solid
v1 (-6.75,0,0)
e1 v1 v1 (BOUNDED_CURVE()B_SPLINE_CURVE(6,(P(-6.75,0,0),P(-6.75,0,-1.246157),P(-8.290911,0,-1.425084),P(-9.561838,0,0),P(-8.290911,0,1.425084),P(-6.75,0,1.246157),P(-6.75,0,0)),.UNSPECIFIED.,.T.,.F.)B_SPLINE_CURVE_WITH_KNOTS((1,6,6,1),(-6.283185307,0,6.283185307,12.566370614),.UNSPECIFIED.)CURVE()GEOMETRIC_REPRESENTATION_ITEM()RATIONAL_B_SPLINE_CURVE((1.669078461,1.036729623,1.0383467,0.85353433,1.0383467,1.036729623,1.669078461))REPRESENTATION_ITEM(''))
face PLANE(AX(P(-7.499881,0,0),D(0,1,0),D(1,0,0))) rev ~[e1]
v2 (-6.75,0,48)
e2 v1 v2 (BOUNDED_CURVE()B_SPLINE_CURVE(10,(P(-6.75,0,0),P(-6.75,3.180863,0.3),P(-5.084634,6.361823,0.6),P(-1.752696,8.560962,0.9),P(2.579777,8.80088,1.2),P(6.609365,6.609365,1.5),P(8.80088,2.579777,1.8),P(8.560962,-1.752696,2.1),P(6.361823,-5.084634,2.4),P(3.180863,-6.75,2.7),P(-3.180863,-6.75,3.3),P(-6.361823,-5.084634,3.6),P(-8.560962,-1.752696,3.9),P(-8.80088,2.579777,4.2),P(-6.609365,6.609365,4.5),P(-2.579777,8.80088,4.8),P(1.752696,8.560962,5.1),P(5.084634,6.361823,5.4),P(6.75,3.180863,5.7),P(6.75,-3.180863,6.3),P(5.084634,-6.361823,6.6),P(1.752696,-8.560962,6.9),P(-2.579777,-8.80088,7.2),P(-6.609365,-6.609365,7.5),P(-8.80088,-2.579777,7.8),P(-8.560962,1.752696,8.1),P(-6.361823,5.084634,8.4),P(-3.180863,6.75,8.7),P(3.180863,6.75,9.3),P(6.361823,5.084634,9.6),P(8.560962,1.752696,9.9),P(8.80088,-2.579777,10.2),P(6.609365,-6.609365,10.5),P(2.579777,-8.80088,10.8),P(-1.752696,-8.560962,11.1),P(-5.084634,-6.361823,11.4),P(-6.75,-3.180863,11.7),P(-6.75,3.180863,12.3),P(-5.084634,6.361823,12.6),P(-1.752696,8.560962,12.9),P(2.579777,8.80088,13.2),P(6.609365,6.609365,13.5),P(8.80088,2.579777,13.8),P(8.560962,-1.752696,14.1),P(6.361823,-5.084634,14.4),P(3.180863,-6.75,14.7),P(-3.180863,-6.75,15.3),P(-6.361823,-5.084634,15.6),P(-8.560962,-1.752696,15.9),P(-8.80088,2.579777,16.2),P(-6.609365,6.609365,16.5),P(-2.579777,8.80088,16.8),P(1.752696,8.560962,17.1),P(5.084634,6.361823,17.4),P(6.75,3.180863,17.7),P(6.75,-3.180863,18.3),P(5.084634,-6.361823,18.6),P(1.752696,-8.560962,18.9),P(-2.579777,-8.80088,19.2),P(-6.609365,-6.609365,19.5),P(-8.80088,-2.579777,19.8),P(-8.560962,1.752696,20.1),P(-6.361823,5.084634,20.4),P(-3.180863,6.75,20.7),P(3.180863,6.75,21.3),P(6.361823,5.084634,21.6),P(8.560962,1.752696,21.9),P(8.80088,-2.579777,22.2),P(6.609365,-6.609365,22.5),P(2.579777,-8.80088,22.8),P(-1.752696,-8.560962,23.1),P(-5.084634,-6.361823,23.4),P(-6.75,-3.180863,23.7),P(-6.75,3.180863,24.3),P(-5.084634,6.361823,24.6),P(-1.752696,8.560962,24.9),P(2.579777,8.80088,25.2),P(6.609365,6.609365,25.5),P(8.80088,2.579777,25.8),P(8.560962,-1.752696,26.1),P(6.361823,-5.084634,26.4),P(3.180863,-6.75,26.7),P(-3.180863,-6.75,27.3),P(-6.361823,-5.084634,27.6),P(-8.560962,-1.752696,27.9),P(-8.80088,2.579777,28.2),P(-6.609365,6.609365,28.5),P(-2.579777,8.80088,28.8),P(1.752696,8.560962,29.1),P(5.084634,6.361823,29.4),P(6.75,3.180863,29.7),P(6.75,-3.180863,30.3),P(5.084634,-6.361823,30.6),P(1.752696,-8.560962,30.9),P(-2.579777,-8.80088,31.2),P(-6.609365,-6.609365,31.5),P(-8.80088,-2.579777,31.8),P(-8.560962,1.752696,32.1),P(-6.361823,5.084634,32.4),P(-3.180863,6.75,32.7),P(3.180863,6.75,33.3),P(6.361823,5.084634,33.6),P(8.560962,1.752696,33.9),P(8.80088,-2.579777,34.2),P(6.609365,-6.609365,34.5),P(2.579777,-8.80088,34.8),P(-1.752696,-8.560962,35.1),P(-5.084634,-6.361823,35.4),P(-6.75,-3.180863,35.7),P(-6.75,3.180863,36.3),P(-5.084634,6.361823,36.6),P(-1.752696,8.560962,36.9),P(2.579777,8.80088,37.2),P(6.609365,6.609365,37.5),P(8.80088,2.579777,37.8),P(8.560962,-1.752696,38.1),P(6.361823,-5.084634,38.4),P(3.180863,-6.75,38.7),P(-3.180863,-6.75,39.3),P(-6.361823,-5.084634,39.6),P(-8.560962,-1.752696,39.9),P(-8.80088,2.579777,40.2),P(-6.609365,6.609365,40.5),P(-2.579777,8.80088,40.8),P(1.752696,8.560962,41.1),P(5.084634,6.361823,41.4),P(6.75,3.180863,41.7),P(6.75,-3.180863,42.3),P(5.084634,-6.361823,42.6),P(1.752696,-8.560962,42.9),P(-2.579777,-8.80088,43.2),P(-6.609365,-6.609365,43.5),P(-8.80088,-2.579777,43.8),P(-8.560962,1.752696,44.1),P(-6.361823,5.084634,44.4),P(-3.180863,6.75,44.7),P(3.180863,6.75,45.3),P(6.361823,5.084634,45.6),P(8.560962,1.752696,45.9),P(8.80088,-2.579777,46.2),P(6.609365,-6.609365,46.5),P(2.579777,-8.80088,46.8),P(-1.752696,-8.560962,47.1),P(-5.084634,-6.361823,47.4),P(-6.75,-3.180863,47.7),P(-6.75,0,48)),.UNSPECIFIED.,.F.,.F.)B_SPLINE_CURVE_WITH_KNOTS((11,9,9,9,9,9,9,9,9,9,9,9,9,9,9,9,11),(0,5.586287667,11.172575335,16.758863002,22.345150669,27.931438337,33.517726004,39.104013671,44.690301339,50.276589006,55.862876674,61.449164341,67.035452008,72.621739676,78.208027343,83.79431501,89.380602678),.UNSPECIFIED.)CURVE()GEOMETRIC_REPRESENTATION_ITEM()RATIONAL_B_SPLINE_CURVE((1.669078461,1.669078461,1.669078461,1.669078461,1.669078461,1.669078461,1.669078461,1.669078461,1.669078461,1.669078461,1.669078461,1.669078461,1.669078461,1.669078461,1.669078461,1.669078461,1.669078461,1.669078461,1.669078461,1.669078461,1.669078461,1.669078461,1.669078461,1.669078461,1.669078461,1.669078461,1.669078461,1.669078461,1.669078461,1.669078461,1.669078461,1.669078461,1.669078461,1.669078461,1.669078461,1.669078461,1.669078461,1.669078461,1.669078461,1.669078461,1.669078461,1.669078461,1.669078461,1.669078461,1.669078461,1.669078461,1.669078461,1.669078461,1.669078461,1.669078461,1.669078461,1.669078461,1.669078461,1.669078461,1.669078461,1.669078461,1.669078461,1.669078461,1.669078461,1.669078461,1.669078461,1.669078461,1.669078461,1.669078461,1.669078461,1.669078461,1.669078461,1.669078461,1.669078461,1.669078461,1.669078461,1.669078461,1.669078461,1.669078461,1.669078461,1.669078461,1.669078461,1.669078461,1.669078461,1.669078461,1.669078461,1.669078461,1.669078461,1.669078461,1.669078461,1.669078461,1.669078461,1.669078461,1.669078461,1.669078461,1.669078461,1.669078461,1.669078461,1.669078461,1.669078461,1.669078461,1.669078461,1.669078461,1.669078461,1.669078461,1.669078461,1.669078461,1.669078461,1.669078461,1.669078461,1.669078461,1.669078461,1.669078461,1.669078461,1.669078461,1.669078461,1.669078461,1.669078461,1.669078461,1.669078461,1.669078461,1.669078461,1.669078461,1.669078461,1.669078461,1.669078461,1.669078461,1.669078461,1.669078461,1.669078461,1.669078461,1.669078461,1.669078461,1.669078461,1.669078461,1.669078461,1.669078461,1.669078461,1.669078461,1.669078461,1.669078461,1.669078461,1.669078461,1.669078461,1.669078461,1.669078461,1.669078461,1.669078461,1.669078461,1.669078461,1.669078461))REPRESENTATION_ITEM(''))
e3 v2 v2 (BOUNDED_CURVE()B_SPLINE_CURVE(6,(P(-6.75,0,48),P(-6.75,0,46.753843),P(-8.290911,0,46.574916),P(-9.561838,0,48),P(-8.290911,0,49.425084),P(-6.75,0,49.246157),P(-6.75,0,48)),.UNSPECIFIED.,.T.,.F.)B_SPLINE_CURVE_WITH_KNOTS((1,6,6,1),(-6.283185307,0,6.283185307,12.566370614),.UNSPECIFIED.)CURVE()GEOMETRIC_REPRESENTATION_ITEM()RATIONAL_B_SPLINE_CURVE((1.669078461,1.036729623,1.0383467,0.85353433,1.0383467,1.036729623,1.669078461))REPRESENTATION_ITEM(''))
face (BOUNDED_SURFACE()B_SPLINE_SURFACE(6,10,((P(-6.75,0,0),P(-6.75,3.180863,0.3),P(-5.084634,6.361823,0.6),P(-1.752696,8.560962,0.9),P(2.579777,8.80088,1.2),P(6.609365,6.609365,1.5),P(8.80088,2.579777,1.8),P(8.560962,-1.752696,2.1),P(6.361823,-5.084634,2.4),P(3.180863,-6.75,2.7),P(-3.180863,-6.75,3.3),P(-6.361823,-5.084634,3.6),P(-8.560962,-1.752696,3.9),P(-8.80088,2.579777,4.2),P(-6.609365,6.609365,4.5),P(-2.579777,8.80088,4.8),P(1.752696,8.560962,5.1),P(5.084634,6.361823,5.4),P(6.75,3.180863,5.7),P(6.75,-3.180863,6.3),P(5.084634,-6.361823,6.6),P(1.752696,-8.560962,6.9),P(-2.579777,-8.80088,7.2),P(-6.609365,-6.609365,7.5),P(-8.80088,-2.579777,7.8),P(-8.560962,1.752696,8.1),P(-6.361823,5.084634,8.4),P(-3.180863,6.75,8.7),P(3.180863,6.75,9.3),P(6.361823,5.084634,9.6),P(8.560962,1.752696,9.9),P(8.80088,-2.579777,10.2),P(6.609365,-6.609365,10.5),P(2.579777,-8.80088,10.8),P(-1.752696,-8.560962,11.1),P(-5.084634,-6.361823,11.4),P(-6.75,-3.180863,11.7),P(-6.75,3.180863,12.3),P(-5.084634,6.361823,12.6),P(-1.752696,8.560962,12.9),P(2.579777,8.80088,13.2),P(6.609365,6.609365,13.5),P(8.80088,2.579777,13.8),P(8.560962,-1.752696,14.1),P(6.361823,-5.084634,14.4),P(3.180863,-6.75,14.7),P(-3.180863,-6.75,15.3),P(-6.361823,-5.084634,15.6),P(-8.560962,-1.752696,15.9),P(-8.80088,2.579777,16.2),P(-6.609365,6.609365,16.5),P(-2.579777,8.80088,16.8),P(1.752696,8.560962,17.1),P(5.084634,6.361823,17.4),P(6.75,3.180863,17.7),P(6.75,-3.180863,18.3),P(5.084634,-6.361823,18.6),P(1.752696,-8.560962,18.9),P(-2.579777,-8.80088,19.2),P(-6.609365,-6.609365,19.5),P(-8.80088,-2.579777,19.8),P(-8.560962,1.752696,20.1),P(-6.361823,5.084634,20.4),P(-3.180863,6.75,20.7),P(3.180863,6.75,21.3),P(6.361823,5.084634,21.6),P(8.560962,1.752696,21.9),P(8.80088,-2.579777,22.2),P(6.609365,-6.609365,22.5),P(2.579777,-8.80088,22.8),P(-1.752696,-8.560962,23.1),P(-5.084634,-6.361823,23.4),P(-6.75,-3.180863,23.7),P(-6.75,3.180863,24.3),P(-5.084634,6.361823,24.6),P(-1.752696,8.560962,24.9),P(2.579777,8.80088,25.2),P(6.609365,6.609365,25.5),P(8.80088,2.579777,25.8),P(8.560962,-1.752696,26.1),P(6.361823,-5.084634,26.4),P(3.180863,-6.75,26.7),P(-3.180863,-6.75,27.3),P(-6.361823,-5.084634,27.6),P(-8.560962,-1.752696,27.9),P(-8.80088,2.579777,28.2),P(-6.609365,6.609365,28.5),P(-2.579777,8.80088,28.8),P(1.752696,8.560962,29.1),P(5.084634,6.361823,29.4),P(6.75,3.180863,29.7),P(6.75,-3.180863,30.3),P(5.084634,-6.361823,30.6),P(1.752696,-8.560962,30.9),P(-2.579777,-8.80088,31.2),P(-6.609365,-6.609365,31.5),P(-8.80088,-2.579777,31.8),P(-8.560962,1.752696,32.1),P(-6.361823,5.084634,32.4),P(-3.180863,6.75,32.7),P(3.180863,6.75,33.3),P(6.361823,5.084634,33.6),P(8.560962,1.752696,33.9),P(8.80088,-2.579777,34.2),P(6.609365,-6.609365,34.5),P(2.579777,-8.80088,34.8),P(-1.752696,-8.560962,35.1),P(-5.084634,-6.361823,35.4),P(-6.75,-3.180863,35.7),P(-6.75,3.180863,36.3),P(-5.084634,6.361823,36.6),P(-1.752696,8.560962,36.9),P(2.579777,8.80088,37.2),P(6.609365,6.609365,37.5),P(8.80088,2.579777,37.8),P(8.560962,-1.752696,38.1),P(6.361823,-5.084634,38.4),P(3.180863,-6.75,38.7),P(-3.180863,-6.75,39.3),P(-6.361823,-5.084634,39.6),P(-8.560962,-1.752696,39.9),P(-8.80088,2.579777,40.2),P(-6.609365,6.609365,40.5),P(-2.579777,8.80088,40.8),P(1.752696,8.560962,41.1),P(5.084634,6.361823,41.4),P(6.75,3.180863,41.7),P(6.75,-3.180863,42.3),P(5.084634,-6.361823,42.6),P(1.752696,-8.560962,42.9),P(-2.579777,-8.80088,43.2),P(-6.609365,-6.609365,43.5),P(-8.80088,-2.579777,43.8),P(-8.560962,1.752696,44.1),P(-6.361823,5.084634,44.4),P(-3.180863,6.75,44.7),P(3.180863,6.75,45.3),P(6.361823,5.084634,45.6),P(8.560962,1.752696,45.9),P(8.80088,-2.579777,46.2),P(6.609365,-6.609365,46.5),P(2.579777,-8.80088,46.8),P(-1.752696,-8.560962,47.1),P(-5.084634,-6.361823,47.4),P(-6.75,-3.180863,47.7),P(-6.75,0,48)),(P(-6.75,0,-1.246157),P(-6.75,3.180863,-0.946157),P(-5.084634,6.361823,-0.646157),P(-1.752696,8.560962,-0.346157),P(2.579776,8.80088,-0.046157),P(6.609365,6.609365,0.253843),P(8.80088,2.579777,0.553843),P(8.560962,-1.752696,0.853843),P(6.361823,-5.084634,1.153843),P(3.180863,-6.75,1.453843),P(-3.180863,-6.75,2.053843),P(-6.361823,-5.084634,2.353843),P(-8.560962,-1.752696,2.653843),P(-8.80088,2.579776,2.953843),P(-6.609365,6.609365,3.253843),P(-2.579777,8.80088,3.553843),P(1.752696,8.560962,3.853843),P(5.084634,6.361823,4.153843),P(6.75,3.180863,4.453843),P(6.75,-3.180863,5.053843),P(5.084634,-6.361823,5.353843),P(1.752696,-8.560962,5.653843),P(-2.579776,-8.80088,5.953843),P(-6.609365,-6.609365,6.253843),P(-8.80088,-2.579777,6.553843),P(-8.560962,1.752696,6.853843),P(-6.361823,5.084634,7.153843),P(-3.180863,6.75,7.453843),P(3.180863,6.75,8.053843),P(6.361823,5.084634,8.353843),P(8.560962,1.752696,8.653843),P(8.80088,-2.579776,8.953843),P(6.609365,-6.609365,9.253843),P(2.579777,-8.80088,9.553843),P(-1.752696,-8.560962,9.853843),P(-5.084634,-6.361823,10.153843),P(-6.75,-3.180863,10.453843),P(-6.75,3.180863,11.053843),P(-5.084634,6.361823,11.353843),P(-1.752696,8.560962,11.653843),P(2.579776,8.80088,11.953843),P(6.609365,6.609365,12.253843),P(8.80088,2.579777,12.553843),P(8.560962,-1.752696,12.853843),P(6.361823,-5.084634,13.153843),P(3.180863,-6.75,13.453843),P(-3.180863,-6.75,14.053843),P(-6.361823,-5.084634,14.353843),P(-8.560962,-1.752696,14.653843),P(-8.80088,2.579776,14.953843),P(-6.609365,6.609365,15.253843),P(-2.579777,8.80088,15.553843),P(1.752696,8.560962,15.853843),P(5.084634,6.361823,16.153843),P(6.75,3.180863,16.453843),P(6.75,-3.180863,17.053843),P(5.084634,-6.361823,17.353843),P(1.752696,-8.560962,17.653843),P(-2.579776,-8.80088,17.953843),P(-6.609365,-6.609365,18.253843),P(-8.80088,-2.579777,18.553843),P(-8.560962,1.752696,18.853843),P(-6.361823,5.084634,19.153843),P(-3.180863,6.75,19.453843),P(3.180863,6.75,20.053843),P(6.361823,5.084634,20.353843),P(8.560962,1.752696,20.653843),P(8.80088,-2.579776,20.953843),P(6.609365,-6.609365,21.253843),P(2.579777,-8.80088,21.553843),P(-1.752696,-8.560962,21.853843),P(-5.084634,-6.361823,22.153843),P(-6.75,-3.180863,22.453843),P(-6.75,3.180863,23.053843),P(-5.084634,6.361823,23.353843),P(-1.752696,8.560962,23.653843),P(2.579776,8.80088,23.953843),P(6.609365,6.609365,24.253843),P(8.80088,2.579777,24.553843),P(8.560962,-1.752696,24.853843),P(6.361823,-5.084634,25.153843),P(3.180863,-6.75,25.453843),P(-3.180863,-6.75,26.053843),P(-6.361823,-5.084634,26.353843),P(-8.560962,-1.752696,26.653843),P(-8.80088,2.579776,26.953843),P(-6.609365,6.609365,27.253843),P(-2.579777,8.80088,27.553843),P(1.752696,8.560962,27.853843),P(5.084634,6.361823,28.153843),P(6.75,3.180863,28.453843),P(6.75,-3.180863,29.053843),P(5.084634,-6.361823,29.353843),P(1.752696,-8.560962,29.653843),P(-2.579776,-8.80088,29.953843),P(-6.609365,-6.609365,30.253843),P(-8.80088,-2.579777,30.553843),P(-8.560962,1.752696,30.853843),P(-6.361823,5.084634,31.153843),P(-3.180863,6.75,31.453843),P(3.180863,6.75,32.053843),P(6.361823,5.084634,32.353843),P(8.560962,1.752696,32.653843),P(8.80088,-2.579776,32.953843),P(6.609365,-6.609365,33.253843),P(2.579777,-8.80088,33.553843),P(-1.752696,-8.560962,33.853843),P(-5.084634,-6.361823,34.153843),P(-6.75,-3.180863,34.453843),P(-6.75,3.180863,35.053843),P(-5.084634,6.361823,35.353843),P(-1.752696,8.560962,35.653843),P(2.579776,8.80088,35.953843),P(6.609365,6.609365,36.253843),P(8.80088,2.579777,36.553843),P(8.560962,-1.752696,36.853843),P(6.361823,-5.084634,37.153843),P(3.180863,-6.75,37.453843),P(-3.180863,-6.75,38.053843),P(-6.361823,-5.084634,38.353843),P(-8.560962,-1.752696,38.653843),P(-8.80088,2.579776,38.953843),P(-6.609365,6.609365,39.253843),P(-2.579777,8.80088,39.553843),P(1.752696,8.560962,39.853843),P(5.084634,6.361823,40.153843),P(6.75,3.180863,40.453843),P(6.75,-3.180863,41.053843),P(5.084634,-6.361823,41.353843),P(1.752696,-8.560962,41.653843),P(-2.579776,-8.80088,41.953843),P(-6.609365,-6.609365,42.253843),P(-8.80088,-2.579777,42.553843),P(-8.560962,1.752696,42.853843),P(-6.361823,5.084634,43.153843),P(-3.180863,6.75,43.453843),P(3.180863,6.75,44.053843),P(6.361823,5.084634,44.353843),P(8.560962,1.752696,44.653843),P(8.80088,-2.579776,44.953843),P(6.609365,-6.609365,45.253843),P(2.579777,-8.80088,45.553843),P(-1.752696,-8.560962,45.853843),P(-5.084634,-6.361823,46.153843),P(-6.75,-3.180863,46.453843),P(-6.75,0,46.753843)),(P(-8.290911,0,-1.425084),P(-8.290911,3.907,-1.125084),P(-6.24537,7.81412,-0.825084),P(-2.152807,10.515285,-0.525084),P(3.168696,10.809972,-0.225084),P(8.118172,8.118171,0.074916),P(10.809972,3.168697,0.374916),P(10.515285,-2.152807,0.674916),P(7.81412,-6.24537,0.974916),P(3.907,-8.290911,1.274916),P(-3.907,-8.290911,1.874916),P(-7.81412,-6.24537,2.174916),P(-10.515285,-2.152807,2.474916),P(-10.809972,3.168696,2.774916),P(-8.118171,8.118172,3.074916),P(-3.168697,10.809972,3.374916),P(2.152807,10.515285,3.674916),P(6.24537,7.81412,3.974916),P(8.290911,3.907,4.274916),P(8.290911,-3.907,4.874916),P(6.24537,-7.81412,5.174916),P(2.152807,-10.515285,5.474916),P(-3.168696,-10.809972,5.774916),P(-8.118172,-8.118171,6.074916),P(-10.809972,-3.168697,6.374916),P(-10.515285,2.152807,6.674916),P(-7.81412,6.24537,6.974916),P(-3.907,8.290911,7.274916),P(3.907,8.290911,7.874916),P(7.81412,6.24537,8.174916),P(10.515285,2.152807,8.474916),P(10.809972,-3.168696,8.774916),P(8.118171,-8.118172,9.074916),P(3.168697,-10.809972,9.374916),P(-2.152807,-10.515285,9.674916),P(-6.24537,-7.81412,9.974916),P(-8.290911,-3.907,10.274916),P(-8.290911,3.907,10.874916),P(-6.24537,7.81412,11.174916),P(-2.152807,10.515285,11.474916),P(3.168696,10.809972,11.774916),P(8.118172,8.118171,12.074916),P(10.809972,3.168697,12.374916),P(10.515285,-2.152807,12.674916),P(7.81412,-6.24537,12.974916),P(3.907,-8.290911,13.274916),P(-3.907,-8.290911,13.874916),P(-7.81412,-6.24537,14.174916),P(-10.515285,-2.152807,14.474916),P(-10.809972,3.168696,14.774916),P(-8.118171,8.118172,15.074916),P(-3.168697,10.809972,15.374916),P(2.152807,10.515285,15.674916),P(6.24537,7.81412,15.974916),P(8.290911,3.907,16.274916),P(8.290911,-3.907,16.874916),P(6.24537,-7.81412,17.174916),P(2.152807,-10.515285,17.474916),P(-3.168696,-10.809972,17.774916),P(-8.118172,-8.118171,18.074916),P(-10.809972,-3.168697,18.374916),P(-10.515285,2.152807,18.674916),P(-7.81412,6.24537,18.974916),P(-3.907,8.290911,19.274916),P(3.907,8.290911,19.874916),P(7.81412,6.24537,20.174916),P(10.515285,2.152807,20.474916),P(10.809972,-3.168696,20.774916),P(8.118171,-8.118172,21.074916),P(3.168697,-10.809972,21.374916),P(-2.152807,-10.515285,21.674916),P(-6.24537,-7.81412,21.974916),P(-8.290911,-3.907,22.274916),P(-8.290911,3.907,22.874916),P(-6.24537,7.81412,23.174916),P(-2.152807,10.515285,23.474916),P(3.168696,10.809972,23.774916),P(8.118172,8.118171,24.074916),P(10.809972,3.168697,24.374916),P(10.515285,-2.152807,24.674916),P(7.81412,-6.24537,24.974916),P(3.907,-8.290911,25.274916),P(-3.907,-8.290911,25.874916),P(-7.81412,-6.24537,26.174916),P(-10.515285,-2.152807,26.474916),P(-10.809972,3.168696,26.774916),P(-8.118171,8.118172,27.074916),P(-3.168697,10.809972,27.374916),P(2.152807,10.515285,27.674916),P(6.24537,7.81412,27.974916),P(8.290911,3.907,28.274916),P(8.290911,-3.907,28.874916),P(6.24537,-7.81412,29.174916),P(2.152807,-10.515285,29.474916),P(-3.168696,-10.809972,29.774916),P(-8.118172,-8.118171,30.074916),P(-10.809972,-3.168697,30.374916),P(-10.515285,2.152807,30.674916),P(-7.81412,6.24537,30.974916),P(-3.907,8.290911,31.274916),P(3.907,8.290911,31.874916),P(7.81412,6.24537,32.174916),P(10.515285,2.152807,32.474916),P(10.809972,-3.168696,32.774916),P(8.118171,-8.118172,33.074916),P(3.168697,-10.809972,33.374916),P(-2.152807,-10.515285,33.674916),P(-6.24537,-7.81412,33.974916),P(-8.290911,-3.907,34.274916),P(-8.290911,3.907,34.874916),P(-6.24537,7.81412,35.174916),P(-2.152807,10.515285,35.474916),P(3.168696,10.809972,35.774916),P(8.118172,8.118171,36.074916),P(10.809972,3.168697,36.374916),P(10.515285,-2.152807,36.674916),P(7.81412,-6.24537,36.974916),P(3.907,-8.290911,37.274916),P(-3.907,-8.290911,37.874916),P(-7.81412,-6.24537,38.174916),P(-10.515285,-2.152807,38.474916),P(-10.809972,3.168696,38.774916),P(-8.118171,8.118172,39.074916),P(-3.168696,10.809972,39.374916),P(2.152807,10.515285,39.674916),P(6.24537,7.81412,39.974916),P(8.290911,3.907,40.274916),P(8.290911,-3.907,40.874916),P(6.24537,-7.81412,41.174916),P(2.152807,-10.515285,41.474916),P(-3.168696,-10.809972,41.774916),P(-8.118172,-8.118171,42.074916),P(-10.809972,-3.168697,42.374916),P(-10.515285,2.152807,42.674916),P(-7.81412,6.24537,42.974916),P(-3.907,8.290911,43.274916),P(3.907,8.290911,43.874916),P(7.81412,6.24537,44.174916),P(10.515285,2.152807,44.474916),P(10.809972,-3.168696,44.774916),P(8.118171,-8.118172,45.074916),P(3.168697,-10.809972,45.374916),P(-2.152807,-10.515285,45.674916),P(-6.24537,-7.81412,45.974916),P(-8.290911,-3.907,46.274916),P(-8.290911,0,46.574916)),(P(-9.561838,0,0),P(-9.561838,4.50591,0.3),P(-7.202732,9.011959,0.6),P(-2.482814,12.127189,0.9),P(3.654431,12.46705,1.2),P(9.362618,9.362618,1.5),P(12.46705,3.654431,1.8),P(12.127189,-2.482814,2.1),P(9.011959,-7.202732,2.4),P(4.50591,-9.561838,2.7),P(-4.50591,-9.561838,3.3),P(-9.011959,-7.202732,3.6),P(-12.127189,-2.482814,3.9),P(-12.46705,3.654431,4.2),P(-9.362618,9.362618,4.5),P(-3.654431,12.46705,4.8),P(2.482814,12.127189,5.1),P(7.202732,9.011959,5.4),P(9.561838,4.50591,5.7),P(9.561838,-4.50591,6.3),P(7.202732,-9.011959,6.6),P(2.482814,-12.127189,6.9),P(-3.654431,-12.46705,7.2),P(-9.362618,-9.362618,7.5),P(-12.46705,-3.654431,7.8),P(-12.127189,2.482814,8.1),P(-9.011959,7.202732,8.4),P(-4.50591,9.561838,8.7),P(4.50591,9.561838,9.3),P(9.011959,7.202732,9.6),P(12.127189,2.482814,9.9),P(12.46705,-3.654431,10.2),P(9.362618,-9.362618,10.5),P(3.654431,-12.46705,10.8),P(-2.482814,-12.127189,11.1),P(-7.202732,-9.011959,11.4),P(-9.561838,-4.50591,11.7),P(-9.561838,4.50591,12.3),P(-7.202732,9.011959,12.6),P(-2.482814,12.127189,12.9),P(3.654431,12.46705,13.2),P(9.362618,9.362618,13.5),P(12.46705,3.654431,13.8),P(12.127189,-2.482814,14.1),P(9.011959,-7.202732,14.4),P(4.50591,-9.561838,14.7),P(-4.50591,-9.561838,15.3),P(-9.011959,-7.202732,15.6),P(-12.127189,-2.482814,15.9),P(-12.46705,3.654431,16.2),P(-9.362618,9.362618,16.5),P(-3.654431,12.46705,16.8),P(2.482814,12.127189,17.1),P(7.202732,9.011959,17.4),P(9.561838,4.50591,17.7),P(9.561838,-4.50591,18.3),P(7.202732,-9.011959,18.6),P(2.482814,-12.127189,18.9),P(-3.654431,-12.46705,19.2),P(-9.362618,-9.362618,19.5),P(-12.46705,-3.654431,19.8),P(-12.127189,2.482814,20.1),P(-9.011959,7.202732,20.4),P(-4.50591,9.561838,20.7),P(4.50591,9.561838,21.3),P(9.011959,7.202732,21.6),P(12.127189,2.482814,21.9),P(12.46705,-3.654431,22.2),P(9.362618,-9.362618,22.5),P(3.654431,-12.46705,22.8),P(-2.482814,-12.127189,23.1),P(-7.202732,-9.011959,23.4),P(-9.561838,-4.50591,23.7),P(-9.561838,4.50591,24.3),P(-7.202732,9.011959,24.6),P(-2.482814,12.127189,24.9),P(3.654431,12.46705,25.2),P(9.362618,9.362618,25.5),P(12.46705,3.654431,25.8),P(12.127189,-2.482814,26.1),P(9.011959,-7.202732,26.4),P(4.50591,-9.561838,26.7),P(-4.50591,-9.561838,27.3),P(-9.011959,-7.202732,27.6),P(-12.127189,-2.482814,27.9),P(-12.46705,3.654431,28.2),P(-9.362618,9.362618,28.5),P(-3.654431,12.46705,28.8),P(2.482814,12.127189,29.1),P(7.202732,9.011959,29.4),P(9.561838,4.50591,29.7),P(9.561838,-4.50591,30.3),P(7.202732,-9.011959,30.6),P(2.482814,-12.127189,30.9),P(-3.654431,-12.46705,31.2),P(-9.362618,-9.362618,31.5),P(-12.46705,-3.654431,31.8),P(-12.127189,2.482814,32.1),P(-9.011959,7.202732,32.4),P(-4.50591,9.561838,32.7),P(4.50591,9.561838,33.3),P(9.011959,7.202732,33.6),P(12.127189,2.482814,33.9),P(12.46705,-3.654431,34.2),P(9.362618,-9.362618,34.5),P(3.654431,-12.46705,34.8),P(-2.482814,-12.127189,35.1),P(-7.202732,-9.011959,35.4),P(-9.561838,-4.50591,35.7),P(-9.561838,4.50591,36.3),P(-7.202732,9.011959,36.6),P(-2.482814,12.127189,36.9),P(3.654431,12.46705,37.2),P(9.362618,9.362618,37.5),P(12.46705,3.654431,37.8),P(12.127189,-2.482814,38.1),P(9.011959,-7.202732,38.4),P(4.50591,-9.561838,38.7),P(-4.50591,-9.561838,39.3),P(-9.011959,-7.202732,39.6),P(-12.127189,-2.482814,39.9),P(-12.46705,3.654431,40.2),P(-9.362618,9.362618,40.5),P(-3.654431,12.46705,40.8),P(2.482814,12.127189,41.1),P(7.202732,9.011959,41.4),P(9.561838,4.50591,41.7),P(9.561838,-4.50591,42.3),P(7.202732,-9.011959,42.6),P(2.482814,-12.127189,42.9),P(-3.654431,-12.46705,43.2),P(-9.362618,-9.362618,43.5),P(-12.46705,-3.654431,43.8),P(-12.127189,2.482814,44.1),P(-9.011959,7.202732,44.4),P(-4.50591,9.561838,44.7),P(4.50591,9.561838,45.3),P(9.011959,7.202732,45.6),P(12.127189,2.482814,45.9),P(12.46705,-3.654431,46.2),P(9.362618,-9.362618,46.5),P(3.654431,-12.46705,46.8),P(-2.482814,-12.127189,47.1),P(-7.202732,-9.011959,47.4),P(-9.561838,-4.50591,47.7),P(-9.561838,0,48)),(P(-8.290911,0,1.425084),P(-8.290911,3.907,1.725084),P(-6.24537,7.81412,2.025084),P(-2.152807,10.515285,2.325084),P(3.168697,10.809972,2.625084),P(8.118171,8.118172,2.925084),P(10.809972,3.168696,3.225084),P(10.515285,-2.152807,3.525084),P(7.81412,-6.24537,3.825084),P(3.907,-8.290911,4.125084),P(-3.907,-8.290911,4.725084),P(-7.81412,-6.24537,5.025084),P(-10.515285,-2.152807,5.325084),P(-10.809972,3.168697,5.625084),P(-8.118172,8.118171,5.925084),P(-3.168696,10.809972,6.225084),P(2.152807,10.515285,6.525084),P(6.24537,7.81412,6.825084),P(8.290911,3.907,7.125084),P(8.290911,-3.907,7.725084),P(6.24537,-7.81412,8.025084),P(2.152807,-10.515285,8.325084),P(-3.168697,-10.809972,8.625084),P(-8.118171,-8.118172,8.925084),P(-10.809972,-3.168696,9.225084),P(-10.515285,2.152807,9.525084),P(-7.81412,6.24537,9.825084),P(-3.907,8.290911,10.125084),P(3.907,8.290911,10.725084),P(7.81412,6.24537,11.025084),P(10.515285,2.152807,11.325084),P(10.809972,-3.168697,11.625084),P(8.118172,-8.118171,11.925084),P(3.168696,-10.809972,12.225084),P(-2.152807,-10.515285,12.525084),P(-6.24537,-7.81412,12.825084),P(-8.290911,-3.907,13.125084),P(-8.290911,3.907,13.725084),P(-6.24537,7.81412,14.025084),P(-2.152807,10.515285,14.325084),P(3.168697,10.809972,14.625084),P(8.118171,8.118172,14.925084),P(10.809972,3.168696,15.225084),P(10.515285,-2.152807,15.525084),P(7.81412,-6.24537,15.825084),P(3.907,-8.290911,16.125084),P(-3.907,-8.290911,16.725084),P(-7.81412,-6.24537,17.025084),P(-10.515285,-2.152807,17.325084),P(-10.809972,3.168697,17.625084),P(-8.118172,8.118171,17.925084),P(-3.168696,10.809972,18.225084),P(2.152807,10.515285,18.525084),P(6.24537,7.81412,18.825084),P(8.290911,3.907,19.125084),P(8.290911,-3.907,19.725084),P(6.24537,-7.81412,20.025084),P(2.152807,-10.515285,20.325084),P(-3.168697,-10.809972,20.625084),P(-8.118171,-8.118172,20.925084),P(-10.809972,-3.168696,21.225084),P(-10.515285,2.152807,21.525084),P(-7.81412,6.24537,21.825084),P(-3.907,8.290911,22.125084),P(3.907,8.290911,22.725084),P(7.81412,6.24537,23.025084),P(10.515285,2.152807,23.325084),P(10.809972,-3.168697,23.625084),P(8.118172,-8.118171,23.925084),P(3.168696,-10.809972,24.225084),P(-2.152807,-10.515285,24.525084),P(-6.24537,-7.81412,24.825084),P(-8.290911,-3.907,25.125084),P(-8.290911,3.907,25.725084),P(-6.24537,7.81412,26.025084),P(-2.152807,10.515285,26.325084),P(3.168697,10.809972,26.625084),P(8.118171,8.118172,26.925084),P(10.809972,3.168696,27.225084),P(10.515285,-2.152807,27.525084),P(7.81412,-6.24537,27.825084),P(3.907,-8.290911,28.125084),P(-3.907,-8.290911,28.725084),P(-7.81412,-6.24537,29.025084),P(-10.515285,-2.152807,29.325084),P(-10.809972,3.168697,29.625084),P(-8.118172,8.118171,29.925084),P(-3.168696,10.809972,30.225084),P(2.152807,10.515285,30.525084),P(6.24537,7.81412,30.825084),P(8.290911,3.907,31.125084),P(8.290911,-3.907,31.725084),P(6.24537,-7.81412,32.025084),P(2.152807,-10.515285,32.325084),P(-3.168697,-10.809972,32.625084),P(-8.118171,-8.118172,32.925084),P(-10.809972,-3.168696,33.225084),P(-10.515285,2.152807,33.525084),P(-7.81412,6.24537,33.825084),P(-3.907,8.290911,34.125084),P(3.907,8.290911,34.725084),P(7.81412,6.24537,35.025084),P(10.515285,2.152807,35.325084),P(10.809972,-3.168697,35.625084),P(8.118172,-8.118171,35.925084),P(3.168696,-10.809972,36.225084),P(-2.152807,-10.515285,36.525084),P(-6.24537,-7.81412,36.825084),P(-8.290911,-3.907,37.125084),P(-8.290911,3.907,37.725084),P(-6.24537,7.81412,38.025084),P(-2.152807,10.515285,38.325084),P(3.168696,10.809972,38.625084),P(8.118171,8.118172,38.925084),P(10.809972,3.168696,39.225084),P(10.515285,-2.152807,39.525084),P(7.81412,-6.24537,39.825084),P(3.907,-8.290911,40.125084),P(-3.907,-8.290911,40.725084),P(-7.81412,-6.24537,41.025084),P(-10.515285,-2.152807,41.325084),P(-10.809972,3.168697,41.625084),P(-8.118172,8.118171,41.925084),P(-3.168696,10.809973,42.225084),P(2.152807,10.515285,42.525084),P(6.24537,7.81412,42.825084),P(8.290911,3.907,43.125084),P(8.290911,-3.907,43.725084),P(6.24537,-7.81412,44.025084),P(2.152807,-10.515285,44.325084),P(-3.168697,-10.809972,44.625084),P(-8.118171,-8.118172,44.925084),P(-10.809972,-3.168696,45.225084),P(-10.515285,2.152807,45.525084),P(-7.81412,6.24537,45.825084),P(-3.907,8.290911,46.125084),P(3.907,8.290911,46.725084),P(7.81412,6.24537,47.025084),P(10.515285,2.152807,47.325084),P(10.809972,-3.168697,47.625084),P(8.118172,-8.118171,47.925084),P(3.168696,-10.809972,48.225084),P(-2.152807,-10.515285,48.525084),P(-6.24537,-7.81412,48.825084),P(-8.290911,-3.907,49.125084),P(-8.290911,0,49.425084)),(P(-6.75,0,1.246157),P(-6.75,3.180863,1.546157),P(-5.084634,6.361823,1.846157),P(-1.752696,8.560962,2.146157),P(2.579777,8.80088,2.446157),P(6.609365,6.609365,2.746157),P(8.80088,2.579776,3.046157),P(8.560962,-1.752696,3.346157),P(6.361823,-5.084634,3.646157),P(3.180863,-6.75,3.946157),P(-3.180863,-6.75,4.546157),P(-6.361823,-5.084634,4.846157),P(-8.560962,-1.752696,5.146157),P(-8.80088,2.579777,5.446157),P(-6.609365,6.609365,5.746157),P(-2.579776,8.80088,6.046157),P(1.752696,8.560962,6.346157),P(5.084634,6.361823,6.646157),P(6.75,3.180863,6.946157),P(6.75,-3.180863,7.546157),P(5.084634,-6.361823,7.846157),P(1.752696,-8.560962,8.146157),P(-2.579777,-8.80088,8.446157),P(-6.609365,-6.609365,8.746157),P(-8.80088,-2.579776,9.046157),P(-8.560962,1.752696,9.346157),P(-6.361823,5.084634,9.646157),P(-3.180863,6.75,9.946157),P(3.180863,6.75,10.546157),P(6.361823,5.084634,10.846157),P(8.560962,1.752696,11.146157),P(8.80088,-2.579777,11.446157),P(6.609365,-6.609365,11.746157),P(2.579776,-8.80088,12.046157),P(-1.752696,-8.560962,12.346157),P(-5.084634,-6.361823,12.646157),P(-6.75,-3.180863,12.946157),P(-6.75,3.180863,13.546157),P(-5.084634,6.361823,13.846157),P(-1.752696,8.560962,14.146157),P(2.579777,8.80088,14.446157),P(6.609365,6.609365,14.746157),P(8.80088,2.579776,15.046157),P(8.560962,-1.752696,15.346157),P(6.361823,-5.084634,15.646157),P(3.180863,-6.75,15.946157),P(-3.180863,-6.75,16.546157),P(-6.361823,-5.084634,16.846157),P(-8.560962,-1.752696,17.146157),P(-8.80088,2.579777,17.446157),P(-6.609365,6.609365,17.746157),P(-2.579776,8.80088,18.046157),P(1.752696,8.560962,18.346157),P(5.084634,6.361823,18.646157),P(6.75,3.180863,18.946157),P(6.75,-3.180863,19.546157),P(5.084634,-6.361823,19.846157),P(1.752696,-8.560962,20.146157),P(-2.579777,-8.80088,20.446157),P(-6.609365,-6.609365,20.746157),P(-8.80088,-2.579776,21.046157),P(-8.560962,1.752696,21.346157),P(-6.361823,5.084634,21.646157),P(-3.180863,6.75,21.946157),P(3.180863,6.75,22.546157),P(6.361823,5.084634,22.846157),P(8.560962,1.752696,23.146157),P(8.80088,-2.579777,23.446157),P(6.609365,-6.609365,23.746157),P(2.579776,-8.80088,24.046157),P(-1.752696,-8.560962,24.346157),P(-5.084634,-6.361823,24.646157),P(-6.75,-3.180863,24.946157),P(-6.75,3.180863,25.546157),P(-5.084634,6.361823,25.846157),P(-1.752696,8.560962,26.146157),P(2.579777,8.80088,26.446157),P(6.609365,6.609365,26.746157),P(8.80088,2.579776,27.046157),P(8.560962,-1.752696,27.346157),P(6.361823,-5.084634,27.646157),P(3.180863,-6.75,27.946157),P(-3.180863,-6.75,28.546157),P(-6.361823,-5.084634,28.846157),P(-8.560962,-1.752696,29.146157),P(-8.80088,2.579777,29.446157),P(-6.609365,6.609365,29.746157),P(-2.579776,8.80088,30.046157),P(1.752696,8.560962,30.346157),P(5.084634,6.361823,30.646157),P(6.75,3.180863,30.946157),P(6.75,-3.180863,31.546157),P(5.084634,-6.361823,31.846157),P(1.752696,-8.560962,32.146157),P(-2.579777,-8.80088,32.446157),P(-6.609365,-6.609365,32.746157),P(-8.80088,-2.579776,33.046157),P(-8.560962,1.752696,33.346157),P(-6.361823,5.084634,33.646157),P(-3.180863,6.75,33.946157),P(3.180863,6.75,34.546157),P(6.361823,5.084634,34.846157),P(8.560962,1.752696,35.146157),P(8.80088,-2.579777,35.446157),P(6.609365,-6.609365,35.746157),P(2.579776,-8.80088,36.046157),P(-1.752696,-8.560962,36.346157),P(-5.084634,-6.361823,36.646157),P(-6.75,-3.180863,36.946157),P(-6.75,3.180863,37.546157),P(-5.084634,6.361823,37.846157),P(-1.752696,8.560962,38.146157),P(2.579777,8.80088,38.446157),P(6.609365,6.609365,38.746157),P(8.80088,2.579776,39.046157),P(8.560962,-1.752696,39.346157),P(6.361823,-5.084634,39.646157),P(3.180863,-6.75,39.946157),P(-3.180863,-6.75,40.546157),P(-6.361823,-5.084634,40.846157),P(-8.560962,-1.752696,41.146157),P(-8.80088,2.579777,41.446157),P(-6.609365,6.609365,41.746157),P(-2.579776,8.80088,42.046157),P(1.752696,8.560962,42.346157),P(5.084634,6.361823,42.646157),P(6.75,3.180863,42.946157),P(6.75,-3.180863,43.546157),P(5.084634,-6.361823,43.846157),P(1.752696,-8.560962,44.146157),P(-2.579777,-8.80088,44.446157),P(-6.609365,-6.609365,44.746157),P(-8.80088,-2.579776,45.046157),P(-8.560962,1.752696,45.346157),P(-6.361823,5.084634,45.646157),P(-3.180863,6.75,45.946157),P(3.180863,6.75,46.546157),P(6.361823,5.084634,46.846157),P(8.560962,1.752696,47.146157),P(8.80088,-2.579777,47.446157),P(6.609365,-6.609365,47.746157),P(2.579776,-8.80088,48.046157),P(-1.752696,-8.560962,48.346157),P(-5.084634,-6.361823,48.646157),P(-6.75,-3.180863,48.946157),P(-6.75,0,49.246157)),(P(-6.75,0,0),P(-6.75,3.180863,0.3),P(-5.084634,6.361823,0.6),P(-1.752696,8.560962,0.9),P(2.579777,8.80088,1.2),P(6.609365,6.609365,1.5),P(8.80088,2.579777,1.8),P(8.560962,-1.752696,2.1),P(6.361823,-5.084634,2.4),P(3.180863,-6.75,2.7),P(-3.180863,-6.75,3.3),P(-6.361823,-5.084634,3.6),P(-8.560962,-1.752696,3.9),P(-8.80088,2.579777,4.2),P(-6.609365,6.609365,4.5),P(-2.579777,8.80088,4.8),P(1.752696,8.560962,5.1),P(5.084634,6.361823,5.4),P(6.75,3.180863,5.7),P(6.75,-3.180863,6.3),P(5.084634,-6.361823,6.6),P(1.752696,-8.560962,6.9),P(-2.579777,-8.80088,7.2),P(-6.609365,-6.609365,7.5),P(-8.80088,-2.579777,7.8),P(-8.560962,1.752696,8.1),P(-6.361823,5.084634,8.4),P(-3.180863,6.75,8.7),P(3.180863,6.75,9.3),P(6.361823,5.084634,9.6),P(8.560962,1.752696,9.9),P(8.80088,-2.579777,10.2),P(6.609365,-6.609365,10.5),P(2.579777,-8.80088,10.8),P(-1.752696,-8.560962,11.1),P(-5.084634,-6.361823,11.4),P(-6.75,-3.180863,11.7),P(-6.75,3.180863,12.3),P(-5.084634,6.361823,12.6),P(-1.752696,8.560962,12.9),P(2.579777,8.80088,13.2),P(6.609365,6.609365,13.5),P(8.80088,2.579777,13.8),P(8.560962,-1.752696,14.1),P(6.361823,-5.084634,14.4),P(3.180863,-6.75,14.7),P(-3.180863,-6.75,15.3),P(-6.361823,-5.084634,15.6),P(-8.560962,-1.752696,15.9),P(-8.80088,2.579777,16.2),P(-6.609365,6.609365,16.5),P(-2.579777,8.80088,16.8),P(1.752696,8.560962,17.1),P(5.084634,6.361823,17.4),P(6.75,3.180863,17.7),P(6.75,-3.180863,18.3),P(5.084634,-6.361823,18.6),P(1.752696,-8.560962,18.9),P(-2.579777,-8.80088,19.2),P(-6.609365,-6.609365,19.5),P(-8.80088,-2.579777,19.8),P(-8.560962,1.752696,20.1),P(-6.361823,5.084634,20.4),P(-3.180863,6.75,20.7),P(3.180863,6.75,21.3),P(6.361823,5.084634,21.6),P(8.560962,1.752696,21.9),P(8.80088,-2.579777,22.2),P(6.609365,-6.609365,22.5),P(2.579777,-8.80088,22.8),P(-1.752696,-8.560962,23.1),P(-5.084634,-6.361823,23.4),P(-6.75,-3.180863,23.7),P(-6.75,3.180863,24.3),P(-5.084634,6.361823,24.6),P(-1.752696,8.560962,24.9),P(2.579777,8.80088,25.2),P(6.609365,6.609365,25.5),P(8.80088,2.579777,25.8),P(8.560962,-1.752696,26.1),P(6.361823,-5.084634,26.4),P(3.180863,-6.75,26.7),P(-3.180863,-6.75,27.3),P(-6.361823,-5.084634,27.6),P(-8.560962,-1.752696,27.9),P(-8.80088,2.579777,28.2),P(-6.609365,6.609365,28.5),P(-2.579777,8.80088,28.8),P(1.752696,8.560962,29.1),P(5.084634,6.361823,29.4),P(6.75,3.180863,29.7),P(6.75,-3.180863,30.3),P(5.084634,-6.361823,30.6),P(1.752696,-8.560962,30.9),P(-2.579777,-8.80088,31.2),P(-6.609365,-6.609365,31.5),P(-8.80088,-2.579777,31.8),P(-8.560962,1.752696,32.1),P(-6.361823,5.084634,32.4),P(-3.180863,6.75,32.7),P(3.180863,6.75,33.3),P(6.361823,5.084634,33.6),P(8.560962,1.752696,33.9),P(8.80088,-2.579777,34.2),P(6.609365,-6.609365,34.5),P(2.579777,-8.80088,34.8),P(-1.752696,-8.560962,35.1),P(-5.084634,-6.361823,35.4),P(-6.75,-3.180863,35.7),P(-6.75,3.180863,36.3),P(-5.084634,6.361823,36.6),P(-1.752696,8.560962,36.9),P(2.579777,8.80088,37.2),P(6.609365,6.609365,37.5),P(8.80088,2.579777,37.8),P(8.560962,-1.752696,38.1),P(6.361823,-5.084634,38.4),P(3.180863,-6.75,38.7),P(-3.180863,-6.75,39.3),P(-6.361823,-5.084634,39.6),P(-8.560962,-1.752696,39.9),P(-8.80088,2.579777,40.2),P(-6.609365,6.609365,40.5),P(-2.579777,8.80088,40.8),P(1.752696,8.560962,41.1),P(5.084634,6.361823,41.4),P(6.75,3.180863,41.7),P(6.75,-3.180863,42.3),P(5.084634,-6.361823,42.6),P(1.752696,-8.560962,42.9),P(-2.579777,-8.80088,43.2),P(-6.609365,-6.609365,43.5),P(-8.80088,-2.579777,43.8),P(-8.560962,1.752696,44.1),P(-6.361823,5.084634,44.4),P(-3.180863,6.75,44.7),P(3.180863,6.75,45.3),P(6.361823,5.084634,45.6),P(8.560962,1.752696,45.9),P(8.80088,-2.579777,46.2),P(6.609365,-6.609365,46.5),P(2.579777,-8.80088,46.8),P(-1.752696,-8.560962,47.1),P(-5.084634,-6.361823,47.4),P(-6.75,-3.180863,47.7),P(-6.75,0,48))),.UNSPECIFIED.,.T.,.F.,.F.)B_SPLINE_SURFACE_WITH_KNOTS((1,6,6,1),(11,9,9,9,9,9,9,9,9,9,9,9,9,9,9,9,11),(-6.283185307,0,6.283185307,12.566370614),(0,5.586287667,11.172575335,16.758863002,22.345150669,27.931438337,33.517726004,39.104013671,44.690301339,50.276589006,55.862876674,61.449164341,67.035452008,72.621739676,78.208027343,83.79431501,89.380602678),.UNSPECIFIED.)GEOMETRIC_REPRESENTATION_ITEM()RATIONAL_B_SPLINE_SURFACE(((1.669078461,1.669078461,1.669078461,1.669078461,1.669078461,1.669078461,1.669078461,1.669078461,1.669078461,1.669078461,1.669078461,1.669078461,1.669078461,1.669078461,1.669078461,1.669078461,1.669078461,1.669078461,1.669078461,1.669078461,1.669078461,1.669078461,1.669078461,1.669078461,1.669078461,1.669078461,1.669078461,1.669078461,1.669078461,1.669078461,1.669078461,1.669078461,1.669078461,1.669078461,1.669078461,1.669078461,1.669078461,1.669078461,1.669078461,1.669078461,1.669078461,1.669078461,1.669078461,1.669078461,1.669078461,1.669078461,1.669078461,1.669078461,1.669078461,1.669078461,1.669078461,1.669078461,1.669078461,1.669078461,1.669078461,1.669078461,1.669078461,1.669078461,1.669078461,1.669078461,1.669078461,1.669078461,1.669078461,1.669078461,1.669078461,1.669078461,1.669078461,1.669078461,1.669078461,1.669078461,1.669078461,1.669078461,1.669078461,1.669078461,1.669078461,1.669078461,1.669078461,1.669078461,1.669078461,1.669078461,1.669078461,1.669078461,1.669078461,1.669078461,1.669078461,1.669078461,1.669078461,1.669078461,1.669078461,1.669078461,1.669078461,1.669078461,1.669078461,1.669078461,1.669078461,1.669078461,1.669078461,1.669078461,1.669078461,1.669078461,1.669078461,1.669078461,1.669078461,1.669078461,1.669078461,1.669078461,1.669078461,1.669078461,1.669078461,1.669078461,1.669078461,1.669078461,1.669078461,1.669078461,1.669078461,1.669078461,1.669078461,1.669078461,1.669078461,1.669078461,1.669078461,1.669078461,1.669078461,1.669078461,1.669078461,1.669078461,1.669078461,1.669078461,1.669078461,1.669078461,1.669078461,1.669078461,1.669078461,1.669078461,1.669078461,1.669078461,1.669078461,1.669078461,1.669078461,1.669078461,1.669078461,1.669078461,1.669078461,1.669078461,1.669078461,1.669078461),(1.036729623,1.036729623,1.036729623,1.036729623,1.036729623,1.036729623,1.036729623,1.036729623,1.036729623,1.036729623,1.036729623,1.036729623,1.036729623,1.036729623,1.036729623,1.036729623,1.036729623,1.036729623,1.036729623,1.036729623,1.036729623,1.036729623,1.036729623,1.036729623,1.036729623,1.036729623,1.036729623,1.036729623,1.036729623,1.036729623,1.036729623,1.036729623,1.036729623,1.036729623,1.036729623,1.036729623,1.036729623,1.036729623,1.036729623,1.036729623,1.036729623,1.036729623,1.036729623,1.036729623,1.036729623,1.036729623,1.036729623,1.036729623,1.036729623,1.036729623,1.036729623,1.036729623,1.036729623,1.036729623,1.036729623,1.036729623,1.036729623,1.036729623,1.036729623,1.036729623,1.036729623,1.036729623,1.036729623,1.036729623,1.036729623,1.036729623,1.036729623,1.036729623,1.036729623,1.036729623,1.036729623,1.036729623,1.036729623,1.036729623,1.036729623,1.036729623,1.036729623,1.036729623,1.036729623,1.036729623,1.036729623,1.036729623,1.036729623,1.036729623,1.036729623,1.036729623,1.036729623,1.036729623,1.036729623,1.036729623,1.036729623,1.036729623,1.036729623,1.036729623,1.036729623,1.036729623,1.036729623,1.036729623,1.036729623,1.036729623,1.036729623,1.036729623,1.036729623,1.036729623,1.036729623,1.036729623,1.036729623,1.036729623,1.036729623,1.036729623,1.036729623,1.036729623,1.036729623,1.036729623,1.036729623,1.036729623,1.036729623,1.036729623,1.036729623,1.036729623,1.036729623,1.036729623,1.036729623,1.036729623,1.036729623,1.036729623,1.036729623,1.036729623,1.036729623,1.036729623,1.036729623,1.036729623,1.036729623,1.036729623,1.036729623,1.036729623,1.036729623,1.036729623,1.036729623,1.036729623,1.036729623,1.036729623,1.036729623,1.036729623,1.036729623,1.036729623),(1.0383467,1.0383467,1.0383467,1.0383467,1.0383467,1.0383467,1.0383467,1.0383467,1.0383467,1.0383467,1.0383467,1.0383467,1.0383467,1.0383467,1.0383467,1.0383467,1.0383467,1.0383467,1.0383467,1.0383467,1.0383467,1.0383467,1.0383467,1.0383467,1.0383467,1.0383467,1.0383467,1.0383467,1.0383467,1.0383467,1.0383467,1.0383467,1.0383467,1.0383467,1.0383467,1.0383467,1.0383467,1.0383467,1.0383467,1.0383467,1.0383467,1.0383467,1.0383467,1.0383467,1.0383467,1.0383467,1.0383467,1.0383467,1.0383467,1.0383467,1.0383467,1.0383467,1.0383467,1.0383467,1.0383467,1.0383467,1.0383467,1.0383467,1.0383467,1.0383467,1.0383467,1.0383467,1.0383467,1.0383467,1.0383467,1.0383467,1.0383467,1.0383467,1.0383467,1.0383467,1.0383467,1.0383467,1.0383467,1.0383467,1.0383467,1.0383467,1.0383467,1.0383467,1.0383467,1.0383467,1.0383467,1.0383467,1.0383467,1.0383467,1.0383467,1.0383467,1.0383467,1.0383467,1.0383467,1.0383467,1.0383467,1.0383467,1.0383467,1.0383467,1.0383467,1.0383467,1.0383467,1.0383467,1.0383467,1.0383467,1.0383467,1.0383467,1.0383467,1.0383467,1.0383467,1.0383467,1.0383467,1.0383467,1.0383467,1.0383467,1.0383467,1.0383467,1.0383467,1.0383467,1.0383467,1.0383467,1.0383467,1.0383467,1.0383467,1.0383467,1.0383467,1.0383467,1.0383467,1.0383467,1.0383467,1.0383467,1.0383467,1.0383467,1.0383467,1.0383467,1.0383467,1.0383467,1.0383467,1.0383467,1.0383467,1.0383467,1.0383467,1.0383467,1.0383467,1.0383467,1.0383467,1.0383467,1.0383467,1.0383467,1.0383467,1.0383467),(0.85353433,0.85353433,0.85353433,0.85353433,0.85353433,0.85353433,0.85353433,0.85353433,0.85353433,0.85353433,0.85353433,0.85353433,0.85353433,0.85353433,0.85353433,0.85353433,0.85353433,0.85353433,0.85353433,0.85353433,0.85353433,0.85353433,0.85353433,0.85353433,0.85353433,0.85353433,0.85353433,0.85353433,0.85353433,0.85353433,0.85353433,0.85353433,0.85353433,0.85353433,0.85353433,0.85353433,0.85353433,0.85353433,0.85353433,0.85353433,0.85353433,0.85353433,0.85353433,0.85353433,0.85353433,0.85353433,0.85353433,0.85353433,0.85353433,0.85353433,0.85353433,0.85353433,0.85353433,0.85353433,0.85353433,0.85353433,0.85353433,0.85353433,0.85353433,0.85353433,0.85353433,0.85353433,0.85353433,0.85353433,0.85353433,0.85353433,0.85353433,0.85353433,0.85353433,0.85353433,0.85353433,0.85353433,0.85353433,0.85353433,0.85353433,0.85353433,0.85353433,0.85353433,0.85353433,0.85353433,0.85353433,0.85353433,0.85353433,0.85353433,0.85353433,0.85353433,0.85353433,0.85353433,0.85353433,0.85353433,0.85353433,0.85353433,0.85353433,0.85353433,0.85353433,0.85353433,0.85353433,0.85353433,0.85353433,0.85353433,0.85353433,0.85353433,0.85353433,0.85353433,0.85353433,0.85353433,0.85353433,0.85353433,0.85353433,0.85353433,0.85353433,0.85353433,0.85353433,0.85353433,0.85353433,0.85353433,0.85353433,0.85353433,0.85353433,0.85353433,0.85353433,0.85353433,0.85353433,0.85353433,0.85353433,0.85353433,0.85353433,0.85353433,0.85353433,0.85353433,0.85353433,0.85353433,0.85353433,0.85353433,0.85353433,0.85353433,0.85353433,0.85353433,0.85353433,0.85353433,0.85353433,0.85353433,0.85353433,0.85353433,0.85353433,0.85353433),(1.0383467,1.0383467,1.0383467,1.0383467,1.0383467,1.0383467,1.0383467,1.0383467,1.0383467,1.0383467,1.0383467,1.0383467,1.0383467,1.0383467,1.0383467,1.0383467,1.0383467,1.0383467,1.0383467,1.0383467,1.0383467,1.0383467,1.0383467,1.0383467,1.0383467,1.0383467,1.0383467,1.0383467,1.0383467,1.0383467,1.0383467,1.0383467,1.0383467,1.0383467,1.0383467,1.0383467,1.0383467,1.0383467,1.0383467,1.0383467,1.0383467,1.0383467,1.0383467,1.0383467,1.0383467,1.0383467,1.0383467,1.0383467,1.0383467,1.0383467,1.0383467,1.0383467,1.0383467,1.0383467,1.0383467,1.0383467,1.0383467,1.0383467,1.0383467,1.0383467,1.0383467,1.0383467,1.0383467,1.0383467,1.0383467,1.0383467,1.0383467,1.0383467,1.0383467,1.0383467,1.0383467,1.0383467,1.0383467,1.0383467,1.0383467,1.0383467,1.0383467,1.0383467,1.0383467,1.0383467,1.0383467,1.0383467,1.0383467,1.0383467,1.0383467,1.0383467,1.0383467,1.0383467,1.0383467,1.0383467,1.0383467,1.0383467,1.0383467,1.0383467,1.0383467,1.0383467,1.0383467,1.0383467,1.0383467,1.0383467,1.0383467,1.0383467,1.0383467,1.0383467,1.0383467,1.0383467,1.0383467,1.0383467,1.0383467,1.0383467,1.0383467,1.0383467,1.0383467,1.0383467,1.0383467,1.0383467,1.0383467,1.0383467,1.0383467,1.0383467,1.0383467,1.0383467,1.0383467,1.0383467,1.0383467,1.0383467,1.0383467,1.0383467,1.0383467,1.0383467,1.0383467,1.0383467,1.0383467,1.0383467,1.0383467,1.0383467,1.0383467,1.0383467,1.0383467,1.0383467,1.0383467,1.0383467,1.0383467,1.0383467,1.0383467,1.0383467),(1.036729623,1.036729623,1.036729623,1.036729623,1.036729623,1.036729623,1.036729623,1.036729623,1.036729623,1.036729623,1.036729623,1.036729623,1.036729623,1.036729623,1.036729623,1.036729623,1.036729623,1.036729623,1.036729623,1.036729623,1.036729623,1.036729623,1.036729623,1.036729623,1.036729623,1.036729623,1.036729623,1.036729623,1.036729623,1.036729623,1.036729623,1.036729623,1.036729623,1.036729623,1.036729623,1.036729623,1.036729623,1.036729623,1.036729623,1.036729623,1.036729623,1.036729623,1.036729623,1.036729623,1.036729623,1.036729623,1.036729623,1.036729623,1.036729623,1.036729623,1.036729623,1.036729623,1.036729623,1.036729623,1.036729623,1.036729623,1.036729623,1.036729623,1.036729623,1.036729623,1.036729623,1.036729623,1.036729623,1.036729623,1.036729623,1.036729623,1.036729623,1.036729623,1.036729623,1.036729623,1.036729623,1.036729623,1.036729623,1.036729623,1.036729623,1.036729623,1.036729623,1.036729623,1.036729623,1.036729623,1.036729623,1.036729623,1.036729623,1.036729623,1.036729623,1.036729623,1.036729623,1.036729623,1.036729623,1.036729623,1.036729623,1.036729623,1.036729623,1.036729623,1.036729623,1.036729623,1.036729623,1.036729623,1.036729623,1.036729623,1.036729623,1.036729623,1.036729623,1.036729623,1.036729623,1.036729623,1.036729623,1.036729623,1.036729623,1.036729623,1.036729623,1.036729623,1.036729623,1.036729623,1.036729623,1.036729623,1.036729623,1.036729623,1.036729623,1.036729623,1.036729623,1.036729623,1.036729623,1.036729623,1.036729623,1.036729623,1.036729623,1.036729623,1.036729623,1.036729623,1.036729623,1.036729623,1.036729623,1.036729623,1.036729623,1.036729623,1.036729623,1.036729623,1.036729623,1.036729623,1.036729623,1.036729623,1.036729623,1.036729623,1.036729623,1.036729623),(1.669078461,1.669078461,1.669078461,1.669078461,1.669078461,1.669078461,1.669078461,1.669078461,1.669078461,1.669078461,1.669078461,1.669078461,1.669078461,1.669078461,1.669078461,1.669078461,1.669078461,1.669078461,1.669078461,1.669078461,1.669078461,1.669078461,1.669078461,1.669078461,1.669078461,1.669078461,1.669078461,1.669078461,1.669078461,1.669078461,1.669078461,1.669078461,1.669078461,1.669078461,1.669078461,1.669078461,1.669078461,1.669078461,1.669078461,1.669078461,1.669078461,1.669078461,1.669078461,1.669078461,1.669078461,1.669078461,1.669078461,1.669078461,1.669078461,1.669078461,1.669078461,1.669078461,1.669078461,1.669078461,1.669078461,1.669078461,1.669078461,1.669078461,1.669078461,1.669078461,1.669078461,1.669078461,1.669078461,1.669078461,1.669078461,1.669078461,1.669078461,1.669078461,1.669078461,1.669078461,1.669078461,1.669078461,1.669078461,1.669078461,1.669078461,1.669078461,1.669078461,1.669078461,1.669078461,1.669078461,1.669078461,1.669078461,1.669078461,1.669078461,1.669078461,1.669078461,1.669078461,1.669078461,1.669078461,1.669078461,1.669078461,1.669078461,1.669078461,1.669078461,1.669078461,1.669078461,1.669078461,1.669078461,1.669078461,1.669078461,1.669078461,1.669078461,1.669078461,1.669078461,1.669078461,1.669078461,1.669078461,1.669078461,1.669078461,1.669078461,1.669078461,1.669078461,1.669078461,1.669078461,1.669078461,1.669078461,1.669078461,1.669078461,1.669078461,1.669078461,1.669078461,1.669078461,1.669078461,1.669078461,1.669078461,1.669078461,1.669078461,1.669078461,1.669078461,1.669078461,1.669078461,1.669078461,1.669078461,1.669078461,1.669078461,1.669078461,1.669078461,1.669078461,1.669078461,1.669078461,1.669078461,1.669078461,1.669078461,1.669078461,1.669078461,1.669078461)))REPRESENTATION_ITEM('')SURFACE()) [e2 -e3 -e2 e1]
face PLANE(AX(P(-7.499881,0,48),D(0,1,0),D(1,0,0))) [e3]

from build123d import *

# Parameters (mm, degrees)
SWEEP1_PITCH       = 4
SWEEP1_HEIGHT      = 48
SWEEP1_RADIUS      = 7.5
SWEEP1_START_ANGLE = -180
SKETCH2_R          = 0.75


with BuildPart() as part:
    # Sweep1: sweep along a helix
    with BuildLine() as sweep1_path:
        add(Helix(SWEEP1_PITCH, SWEEP1_HEIGHT, SWEEP1_RADIUS, center=(0, 0, 0), direction=(0, 0, 1), lefthand=True, mode=Mode.PRIVATE).rotate(Axis((0, 0, 0), (0, 0, 1)), SWEEP1_START_ANGLE))
    # Sketch2 → Sweep1 (sweep)
    with BuildSketch(Plane(origin=(0, 0, 0), x_dir=(1, 0, 0), z_dir=(0, 1, 0))):
        with Locations((-7.5, 0)):
            Circle(SKETCH2_R)
    sweep(path=sweep1_path.line, is_frenet=True)


solid = part.part
